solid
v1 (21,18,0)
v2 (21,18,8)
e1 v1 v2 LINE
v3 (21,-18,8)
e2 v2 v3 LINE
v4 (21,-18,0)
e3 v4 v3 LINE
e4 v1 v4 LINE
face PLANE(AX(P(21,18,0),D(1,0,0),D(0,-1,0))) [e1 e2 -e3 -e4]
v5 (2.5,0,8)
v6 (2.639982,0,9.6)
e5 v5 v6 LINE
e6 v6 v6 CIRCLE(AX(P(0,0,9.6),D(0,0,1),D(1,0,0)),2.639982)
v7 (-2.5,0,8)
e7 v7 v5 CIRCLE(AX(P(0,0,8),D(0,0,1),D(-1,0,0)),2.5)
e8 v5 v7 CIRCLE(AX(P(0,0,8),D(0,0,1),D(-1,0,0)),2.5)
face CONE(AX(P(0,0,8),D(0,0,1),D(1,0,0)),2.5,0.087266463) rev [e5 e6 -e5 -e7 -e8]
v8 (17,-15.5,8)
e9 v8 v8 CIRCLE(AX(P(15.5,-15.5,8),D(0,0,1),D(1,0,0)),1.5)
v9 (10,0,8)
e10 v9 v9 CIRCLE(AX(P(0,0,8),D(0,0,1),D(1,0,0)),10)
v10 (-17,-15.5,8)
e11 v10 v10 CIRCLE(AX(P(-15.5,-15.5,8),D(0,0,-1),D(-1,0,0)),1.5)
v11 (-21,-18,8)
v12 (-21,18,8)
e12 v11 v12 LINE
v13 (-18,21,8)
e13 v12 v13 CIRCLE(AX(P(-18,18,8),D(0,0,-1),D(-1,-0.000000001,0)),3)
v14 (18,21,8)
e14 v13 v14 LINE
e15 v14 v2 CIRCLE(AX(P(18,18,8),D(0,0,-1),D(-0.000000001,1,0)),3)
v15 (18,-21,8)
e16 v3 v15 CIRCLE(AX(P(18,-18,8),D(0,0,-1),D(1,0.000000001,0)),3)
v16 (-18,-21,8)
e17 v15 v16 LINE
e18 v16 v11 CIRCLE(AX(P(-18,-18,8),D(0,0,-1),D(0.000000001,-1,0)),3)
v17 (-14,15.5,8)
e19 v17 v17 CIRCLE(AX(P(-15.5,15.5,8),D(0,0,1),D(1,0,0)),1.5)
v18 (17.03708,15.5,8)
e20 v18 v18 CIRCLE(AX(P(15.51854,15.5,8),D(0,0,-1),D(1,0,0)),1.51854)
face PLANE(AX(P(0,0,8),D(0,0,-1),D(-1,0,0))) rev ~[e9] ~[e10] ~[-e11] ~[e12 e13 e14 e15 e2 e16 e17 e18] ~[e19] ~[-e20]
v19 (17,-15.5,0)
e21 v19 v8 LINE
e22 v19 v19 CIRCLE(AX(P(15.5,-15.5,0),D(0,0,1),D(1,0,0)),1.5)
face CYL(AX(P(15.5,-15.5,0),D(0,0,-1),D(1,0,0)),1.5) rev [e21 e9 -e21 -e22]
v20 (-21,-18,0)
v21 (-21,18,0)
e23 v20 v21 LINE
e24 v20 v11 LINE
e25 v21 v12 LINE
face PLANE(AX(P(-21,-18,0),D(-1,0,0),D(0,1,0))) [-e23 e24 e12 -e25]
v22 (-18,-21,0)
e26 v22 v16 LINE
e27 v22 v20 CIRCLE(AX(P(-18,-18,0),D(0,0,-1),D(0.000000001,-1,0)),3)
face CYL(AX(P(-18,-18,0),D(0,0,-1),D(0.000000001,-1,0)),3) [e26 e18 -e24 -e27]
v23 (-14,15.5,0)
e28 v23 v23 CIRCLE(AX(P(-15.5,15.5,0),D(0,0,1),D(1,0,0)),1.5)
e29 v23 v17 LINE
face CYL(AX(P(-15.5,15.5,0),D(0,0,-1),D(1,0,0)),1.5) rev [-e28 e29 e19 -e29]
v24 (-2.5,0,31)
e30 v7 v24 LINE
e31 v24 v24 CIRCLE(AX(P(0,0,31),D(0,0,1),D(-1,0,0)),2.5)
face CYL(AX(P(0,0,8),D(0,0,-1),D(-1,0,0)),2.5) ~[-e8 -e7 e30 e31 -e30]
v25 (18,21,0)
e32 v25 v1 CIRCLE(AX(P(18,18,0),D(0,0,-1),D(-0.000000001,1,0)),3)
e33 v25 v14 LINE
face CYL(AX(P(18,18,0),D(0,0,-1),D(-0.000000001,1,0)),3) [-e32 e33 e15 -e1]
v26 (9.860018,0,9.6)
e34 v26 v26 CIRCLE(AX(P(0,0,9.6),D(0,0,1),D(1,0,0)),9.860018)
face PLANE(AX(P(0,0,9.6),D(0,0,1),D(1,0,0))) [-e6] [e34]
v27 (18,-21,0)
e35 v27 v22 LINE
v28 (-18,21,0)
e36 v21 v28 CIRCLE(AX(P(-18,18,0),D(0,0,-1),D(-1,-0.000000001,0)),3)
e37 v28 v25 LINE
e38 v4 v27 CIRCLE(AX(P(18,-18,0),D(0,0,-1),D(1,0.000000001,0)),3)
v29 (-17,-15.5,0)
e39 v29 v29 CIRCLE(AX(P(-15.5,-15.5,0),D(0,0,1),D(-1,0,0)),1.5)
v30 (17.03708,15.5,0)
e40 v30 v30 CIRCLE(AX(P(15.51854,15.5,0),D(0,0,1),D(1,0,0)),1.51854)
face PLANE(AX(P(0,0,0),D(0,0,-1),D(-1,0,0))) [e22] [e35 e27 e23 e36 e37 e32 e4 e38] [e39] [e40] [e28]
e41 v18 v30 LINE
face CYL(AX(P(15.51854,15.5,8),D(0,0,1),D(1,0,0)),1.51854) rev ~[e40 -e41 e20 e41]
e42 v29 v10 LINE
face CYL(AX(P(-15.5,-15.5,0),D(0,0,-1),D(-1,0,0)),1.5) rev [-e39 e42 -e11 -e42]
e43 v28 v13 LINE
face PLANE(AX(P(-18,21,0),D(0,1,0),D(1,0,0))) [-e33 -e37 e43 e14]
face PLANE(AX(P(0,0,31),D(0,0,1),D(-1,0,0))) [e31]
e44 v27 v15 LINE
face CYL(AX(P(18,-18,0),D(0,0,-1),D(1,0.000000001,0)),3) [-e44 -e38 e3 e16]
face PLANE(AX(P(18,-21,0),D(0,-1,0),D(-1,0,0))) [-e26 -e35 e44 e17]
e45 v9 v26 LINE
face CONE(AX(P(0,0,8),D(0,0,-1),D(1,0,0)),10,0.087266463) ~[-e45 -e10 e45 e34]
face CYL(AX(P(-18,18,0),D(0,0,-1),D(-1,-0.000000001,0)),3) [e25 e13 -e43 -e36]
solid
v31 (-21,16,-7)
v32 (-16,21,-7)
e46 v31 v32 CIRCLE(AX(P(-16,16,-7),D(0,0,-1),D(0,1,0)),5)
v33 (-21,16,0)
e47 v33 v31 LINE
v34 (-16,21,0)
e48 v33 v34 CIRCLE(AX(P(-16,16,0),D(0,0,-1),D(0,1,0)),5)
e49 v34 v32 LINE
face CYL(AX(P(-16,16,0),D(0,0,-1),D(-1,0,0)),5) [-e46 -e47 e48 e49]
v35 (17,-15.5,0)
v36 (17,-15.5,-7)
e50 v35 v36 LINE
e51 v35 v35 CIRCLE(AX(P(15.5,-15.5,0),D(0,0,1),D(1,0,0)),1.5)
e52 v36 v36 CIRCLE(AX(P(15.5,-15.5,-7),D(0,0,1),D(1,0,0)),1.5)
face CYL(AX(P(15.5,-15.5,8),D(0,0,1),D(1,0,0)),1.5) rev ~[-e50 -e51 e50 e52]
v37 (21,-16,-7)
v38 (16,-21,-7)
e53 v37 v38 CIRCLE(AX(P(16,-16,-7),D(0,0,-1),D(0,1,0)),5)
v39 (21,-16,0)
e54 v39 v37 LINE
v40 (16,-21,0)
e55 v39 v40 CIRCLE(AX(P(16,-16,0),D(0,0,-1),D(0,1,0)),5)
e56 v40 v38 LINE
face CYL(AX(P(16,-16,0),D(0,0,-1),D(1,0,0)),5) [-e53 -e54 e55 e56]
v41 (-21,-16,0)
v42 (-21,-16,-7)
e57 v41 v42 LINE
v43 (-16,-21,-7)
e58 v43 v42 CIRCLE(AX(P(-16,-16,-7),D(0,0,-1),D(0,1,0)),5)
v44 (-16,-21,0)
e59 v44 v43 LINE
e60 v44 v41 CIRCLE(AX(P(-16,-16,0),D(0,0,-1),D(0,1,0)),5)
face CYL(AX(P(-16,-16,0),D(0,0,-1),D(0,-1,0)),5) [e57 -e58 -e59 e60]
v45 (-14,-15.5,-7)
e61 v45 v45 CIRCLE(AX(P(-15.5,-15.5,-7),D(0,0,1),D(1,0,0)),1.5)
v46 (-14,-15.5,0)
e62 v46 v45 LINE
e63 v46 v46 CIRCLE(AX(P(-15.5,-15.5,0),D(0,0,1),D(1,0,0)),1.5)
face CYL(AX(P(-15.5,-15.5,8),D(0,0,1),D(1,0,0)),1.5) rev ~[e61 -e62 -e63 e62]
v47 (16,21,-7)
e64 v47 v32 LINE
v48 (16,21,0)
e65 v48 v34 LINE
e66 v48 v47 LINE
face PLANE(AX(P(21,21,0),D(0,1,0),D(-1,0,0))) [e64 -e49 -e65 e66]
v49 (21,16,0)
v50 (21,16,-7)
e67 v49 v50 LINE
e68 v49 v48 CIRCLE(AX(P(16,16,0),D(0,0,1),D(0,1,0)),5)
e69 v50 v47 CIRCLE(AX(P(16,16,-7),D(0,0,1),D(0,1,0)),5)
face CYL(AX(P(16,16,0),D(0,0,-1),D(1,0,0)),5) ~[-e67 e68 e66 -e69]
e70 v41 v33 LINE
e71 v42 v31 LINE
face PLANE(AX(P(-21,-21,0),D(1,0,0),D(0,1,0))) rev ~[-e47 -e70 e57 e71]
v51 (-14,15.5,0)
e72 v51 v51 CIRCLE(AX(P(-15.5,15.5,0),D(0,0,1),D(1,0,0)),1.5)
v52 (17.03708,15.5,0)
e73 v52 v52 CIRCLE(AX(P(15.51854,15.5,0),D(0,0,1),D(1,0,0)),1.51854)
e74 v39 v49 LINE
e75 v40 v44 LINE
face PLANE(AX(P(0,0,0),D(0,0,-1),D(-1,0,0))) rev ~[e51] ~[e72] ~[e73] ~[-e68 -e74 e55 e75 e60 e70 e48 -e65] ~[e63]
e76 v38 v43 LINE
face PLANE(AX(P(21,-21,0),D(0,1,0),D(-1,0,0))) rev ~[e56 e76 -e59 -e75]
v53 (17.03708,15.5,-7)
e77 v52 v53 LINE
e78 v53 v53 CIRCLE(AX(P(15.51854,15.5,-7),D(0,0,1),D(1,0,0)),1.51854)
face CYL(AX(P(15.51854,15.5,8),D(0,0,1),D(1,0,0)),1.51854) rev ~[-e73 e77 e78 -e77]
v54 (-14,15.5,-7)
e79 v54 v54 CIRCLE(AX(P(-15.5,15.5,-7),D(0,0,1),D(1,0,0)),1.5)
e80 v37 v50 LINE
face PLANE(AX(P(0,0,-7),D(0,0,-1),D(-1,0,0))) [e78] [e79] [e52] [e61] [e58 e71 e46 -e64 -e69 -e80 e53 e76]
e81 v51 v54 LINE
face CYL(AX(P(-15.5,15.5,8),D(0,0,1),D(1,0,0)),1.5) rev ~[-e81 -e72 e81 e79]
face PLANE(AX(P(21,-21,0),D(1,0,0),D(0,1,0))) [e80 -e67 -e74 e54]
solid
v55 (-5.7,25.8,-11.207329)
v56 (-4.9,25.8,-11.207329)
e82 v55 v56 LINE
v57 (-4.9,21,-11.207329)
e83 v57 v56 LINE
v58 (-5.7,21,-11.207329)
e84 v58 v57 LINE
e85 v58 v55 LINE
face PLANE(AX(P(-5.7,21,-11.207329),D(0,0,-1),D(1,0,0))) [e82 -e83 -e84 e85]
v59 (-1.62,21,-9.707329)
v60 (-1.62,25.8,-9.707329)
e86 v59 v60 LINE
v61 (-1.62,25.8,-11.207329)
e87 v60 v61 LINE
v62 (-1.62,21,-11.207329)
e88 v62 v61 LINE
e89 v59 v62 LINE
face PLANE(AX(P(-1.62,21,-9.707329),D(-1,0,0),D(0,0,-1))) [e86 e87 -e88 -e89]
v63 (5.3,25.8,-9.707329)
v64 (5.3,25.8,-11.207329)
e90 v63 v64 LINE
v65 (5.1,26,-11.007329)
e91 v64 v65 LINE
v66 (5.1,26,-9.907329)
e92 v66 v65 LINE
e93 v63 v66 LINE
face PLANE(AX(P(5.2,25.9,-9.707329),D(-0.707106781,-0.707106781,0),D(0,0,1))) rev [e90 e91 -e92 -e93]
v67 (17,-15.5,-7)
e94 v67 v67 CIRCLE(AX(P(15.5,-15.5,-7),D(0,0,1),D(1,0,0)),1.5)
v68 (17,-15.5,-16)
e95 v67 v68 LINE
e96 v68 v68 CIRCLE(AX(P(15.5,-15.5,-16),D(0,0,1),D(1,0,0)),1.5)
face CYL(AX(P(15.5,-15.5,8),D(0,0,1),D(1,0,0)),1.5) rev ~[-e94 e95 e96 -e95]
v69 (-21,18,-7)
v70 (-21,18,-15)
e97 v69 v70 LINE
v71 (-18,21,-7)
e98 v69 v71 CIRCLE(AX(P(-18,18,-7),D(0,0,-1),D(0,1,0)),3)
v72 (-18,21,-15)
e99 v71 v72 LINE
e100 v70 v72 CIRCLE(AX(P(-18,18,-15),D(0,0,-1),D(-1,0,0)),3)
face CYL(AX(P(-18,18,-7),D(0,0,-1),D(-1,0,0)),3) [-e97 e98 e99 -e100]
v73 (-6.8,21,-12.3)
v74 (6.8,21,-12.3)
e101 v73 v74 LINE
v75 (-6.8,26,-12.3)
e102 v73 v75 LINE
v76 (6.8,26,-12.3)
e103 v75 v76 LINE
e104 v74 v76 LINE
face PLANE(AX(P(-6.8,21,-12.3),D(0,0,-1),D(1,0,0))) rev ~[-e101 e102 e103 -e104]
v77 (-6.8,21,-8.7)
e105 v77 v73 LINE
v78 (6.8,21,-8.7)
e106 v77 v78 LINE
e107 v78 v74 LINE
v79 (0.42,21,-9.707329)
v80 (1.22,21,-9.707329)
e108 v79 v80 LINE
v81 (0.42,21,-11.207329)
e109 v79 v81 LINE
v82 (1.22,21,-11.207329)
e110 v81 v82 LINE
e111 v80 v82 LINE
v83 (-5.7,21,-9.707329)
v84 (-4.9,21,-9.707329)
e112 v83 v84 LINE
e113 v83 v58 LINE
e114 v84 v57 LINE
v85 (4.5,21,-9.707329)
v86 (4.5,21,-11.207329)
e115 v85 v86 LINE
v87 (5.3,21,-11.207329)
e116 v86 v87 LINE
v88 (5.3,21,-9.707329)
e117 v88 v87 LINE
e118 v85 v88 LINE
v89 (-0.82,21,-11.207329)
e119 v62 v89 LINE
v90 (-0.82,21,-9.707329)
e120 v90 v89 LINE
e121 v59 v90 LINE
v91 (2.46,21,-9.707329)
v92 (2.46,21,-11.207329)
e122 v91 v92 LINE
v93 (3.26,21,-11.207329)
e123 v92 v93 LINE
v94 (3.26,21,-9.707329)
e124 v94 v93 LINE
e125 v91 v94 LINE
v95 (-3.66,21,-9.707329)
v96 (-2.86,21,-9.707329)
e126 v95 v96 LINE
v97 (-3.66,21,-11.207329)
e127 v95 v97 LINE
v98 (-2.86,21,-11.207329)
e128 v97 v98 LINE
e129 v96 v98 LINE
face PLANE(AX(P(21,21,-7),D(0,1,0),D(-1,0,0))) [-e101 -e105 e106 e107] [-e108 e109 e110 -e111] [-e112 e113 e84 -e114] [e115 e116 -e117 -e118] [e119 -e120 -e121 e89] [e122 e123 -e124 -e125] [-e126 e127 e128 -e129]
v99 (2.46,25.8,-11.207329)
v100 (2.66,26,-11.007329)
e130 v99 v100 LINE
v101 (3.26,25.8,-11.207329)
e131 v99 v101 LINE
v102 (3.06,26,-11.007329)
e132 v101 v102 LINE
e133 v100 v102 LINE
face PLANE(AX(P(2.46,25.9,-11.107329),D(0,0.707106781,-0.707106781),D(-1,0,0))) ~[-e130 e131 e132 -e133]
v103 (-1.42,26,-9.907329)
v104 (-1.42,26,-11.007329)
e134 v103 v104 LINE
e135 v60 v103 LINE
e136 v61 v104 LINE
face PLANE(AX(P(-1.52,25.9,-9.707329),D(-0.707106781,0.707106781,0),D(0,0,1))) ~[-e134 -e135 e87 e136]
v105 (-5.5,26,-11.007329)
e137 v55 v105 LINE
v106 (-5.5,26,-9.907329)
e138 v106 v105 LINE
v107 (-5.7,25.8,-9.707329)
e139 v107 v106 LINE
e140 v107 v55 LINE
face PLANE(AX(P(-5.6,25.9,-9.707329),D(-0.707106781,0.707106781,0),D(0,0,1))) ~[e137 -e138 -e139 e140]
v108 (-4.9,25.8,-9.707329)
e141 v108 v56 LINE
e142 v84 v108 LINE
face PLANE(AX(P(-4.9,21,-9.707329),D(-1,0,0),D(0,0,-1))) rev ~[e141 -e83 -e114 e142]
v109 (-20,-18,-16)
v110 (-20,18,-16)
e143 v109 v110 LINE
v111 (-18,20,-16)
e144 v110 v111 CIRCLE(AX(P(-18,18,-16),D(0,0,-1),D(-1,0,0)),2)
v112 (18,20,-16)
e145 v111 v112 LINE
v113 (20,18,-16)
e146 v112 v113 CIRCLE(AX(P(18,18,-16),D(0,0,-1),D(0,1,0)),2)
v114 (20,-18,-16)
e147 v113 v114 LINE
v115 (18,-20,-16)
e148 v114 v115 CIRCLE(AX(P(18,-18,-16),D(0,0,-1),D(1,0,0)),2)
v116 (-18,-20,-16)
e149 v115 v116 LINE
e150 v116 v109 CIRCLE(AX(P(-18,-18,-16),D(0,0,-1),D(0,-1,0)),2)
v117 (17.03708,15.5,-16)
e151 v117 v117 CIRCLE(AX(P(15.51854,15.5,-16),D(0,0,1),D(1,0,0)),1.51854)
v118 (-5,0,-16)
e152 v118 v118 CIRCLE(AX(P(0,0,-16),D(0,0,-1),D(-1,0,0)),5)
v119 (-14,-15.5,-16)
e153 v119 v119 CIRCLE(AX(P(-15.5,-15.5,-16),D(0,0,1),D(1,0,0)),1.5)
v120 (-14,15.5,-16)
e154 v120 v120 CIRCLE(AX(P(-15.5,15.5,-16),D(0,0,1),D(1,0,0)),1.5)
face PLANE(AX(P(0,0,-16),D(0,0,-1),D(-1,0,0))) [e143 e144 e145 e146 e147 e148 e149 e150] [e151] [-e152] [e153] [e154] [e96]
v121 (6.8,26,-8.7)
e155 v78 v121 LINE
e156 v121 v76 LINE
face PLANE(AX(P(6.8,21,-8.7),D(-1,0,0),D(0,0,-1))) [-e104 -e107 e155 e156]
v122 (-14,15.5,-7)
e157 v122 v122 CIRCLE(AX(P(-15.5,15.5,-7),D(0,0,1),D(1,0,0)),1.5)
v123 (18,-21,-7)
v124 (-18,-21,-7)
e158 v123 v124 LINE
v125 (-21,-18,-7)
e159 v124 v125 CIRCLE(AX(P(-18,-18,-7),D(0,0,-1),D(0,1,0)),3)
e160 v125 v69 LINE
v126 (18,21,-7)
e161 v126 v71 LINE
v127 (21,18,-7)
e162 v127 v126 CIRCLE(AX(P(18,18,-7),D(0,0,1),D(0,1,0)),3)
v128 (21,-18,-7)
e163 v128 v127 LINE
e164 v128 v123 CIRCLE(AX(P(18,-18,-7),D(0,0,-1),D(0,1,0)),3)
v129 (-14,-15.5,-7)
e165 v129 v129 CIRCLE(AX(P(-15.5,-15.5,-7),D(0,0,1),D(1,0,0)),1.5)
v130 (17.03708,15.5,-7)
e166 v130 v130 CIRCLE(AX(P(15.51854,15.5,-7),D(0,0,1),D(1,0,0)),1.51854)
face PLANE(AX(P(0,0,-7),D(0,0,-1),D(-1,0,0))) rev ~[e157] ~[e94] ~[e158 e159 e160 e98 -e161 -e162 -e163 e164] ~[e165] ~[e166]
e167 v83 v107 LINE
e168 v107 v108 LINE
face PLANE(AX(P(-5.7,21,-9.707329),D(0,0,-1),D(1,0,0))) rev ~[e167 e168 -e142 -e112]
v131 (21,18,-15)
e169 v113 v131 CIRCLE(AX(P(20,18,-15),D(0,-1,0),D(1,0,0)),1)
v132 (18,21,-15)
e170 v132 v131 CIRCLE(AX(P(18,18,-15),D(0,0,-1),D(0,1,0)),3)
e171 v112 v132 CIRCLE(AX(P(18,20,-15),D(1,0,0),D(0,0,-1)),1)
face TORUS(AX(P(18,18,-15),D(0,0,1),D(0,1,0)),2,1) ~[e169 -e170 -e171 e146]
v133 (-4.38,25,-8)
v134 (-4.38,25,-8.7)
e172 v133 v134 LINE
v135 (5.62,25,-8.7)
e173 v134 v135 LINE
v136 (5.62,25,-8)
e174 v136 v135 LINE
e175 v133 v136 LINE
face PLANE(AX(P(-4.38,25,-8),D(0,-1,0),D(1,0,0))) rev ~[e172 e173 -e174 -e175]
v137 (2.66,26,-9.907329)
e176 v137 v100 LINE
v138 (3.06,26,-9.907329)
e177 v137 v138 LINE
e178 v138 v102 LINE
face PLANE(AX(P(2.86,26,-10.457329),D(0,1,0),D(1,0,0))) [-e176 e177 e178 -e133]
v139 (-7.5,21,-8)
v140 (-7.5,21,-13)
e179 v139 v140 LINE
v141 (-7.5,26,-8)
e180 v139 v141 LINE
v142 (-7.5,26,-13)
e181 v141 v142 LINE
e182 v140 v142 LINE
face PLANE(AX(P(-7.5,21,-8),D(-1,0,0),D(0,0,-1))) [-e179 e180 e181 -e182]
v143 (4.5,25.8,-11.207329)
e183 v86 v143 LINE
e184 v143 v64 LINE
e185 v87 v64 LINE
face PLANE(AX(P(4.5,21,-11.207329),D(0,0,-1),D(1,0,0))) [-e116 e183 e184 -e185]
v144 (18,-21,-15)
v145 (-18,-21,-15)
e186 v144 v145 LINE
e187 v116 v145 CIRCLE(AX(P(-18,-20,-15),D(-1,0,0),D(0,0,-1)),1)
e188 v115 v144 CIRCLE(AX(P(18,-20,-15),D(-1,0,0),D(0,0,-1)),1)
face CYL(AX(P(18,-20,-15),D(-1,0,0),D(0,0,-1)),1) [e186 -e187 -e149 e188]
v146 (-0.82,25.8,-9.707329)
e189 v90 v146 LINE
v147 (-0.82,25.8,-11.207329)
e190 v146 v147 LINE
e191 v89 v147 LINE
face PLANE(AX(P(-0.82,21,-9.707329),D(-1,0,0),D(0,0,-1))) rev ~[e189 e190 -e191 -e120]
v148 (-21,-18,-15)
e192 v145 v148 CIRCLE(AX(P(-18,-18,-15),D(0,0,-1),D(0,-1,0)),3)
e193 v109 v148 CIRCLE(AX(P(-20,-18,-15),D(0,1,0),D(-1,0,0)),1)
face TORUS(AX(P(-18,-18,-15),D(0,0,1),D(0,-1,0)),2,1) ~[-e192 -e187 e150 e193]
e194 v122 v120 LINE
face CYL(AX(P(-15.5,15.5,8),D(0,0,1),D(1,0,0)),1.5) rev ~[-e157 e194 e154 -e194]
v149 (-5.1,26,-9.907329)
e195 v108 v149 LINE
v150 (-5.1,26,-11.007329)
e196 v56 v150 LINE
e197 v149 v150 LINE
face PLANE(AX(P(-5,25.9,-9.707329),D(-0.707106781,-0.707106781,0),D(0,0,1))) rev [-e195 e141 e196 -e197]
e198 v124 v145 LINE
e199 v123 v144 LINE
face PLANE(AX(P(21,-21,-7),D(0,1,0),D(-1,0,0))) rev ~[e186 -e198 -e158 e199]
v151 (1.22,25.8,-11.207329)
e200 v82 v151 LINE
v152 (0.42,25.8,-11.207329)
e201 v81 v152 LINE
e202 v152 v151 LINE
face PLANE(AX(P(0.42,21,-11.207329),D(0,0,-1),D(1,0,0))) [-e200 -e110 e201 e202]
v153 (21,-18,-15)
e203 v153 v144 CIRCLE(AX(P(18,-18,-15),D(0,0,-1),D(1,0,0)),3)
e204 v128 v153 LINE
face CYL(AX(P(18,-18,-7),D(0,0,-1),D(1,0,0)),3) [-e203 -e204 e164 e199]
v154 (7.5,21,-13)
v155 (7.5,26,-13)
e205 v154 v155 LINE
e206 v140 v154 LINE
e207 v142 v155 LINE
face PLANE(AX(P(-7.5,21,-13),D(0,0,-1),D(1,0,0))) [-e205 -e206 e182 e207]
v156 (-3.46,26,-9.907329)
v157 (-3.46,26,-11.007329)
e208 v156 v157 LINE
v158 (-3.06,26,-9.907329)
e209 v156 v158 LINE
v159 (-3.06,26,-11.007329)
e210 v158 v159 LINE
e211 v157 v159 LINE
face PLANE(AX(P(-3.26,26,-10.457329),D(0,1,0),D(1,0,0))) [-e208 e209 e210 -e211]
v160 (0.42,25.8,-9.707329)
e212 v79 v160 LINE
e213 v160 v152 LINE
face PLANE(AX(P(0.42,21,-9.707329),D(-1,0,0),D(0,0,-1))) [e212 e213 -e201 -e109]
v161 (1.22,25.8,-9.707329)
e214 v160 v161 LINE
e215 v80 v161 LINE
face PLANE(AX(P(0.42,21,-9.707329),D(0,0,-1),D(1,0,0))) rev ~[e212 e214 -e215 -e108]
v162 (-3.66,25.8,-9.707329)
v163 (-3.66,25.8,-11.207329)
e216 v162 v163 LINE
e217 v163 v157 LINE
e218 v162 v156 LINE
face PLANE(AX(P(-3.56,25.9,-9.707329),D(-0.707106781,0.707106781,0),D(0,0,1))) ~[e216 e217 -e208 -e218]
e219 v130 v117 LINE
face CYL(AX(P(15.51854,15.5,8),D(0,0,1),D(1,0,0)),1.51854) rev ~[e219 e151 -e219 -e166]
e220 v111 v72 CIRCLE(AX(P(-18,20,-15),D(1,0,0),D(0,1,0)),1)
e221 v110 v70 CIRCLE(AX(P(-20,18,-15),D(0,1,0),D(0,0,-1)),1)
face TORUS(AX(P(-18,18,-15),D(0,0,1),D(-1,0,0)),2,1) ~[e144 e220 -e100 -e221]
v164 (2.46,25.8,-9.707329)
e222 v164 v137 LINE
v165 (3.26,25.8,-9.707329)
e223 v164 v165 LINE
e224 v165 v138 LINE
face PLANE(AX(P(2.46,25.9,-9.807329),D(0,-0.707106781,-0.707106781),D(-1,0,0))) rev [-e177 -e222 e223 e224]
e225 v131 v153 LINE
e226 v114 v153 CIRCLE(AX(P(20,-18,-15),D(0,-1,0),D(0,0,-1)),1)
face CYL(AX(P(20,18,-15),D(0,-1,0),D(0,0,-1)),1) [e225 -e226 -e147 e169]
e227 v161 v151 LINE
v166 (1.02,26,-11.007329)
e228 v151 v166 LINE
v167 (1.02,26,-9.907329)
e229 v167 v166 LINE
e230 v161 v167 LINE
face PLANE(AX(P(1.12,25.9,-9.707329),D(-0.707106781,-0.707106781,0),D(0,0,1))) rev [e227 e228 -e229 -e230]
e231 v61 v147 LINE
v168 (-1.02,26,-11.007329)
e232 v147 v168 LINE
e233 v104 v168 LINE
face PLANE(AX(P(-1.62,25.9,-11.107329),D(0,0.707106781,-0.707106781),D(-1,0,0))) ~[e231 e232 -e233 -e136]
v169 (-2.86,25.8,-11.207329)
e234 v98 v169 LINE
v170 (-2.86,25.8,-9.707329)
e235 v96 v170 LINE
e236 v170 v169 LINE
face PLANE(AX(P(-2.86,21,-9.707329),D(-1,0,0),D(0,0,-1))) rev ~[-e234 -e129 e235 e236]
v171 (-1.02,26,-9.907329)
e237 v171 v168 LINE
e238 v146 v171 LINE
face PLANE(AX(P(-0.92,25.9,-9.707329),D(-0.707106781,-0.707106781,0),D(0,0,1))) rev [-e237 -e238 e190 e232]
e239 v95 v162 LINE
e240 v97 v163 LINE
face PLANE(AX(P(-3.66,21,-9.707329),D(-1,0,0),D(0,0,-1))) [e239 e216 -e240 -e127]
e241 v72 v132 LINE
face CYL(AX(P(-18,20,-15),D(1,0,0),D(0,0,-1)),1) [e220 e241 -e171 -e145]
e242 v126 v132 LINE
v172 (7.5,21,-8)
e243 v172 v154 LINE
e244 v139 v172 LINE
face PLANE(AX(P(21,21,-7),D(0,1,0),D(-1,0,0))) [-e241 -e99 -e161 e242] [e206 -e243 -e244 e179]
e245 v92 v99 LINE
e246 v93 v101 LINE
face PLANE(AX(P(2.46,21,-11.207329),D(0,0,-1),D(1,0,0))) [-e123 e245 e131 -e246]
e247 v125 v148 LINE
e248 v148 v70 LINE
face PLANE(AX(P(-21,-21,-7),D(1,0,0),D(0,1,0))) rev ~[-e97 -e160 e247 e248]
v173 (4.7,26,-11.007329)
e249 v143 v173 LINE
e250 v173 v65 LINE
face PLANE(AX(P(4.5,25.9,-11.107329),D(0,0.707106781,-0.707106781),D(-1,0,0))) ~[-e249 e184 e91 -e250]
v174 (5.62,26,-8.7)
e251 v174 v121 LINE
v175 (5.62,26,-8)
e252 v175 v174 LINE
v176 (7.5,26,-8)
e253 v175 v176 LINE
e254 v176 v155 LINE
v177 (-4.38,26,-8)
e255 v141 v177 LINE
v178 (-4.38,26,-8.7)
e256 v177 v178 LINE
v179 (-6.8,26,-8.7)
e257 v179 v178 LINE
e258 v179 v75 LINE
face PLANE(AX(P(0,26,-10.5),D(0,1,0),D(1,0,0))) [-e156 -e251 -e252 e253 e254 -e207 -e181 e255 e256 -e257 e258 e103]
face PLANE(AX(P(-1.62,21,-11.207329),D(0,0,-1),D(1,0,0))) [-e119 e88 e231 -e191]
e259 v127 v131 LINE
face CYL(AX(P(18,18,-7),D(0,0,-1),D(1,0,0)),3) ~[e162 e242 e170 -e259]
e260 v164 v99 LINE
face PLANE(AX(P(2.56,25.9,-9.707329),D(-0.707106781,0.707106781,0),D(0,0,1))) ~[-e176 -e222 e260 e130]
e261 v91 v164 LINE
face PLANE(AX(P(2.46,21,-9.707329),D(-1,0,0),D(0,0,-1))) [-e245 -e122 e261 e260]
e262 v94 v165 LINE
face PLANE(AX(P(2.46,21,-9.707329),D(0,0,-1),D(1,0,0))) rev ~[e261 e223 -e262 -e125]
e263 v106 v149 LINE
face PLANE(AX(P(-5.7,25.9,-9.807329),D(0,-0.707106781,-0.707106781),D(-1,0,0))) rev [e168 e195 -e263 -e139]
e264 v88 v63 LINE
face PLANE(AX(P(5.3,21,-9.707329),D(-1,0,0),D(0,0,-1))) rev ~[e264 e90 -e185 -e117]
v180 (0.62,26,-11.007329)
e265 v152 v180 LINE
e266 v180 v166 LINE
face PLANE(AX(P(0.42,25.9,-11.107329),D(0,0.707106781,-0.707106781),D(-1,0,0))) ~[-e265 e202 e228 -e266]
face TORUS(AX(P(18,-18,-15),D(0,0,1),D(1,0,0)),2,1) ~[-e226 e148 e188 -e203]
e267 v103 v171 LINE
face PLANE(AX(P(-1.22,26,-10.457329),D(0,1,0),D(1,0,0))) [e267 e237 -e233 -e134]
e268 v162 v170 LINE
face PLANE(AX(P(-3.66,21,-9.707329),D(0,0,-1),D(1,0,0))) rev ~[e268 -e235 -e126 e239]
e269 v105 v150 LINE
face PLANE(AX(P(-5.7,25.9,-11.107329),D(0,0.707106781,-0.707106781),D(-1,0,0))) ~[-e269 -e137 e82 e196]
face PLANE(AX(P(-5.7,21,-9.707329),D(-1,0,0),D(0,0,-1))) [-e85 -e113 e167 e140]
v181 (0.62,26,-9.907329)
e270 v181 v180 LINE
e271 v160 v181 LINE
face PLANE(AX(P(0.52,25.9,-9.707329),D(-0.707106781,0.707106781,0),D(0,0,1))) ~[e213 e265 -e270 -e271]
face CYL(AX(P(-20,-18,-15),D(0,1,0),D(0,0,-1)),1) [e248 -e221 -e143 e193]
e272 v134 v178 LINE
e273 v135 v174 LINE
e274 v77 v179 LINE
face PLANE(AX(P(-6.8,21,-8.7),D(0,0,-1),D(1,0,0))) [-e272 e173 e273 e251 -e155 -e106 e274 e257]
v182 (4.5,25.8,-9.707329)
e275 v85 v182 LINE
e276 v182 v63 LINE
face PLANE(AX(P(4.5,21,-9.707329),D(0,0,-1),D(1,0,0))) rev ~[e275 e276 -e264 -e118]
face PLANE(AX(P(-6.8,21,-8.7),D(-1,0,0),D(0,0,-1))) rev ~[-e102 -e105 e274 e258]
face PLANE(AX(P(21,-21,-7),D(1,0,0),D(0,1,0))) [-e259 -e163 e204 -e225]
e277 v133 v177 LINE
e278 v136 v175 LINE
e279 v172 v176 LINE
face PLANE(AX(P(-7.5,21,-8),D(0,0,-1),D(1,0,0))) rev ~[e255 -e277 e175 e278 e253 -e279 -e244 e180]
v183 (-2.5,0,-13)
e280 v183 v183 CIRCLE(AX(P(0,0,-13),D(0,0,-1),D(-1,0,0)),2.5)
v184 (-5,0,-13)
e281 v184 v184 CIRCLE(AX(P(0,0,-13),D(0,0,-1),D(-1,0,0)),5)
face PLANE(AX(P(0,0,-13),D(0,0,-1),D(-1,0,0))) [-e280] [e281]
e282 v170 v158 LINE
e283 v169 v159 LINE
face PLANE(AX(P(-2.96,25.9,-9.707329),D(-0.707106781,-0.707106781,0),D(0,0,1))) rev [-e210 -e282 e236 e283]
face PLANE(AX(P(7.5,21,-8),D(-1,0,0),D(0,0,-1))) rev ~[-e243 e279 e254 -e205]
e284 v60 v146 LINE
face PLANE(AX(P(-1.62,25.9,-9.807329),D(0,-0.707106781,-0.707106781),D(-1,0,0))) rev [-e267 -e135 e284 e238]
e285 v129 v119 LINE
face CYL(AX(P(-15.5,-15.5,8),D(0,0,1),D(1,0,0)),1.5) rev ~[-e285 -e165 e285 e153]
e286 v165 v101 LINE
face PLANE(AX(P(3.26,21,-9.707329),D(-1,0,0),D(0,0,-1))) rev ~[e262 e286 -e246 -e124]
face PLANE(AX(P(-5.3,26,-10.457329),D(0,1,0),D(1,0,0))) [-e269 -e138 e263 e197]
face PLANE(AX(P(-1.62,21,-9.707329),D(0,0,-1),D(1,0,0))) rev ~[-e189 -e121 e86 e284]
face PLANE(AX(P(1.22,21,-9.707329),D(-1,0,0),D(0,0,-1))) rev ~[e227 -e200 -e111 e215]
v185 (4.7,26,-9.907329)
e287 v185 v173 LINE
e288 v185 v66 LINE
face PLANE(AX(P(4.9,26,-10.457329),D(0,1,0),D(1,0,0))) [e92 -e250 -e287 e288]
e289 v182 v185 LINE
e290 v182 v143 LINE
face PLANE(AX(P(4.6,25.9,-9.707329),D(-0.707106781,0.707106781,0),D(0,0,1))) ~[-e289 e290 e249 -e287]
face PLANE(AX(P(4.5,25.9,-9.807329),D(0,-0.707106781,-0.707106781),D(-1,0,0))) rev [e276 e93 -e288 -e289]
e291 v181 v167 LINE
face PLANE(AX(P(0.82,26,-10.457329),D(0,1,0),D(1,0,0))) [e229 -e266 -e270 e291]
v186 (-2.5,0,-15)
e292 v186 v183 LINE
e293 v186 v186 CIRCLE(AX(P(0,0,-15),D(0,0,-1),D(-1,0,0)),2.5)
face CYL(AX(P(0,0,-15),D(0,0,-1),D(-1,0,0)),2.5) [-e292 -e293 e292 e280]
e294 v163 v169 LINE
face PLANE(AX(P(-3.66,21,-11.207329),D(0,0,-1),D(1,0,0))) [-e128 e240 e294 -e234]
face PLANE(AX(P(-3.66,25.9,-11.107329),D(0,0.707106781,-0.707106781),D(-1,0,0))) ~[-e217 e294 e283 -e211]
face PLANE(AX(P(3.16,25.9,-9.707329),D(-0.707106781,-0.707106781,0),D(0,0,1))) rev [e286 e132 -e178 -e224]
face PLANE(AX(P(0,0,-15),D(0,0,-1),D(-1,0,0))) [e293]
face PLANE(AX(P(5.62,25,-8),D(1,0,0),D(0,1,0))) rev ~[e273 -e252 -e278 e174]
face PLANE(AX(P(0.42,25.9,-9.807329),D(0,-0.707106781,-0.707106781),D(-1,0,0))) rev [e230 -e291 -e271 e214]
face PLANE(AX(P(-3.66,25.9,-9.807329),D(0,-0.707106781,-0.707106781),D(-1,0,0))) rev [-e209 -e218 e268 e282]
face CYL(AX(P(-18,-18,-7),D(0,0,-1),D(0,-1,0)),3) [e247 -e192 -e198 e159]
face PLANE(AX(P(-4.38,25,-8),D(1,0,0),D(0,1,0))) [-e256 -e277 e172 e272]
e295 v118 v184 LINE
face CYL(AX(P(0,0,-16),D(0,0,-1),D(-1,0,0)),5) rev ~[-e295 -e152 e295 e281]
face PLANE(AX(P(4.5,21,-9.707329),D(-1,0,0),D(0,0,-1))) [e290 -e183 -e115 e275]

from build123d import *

# Parameters (mm, degrees)
SKETCH_1_R          = 1.5
EXTRUDE_1_DEPTH     = 8
SKETCH_4_R          = 2.5
EXTRUDE_2_DEPTH     = 23
SKETCH_9_W          = 42
SKETCH_9_H          = 42
EXTRUDE_7_DEPTH     = 7
SKETCH_10_W         = 42
SKETCH_10_H         = 42
EXTRUDE_8_DEPTH     = 9
FILLET_1_R          = 3
FILLET_2_R          = 5
SKETCH_12_R         = 1.5
SKETCH_12_R_2       = 1.518540069
CUT_EXTRUDE_1_DEPTH = 39.183766184
SKETCH_14_W         = 15
SKETCH_14_H         = 5
SKETCH_14_W_2       = 13.6
SKETCH_14_H_2       = 3.6
SKETCH_14_W_3       = 0.8
SKETCH_14_H_3       = 1.5
EXTRUDE_10_DEPTH    = 5
CHAMFER_1_SIZE      = 0.2
SKETCH_15_W         = 10
SKETCH_15_H         = 1
CUT_EXTRUDE_2_DEPTH = 0.7
FILLET_3_R          = 1
SKETCH_16_R         = 10
SKETCH_16_R_2       = 2.5
EXTRUDE_11_DEPTH    = 1.6
EXTRUDE_11_DRAFT    = 5
SKETCH_18_R         = 5
CUT_EXTRUDE_3_DEPTH = 3
EXTRUDE_START       = 2
SKETCH_19_R         = 2.5
EXTRUDE_13_DEPTH    = 2


with BuildPart() as part:
    # 草图1 → 凸台-拉伸1 (new body)
    with BuildSketch(Plane.XY):
        with BuildLine():
            Line((-18, 21), (18, 21))
            ThreePointArc((18, 21), (20.121320344, 20.121320344), (21, 18))
            Line((21, 18), (21, -18))
            ThreePointArc((21, -18), (20.121320344, -20.121320344), (18, -21))
            Line((18, -21), (-18, -21))
            ThreePointArc((-18, -21), (-20.121320344, -20.121320344), (-21, -18))
            Line((-21, -18), (-21, 18))
            ThreePointArc((-21, 18), (-20.121320344, 20.121320344), (-18, 21))
        make_face()
        with Locations((-15.5, 15.5)):
            Circle(SKETCH_1_R, mode=Mode.SUBTRACT)
        with Locations(Location((15.5, 15.5, 0), (0, 0, 180))):
            Circle(SKETCH_1_R, mode=Mode.SUBTRACT)
        with Locations((15.5, -15.5)):
            Circle(SKETCH_1_R, mode=Mode.SUBTRACT)
        with Locations(Location((-15.5, -15.5, 0), (0, 0, 180))):
            Circle(SKETCH_1_R, mode=Mode.SUBTRACT)
    extrude(amount=EXTRUDE_1_DEPTH)

    # 草图4 → 凸台-拉伸2 (add)
    with BuildSketch(Plane.XY.offset(8)):
        with Locations(Location((0, 0, 0), (0, 0, 180))):
            Circle(SKETCH_4_R)
    extrude(amount=EXTRUDE_2_DEPTH)


with BuildPart() as body_2:
    # 草图9 → 凸台-拉伸7 (new body)
    with BuildSketch(Plane(origin=(0, 0, 0), x_dir=(-1, 0, 0), z_dir=(0, 0, -1))):
        Rectangle(SKETCH_9_W, SKETCH_9_H)
    extrude(amount=EXTRUDE_7_DEPTH)

    # 圆角2
    fillet_2_edges = [body_2.edges().sort_by_distance(p)[0] for p in [
        (-21, -21, -3.5),
        (21, -21, -3.5),
        (21, 21, -3.5),
        (-21, 21, -3.5),
    ]]
    fillet(fillet_2_edges, radius=FILLET_2_R)


with BuildPart() as body_3:
    # 草图10 → 凸台-拉伸8 (new body)
    with BuildSketch(Plane(origin=(0, 0, -7), x_dir=(-1, 0, 0), z_dir=(0, 0, -1))):
        Rectangle(SKETCH_10_W, SKETCH_10_H)
    extrude(amount=EXTRUDE_8_DEPTH)

    # 圆角1
    fillet_1_edges = [body_3.edges().sort_by_distance(p)[0] for p in [
        (21, 21, -11.5),
        (-21, 21, -11.5),
        (-21, -21, -11.5),
        (21, -21, -11.5),
    ]]
    fillet(fillet_1_edges, radius=FILLET_1_R)


with BuildPart() as cut_extrude_1_tool:
    # 草图12 → 切除-拉伸1 (new, through all)
    with BuildSketch(Plane.XY.offset(8)):
        with Locations((-15.5, 15.5)):
            Circle(SKETCH_12_R)
        with Locations((15.518540069, 15.5)):
            Circle(SKETCH_12_R_2)
        with Locations((-15.5, -15.5)):
            Circle(SKETCH_12_R)
        with Locations((15.5, -15.5)):
            Circle(SKETCH_12_R)
    extrude(amount=-CUT_EXTRUDE_1_DEPTH)


with BuildPart() as part_1:
    add(part.part)

    # 切除-拉伸1: cut by cut_extrude_1_tool
    add(cut_extrude_1_tool.part, mode=Mode.SUBTRACT)


with BuildPart() as body_2_1:
    add(body_2.part)

    # 切除-拉伸1: cut by cut_extrude_1_tool
    add(cut_extrude_1_tool.part, mode=Mode.SUBTRACT)


with BuildPart() as body_3_1:
    add(body_3.part)

    # 切除-拉伸1: cut by cut_extrude_1_tool
    add(cut_extrude_1_tool.part, mode=Mode.SUBTRACT)

    # 草图14 → 凸台-拉伸10 (add)
    # profile 1 of 7: a face of its own
    with BuildSketch(Plane(origin=(0, 21, 0), x_dir=(1, 0, 0), z_dir=(0, 1, 0))):
        with Locations((0, 10.5)):
            Rectangle(SKETCH_14_W, SKETCH_14_H)
        with Locations((0, 10.5)):
            Rectangle(SKETCH_14_W_2, SKETCH_14_H_2, mode=Mode.SUBTRACT)
    # profile 2 of 7: a face of its own
    with BuildSketch(Plane(origin=(0, 21, 0), x_dir=(1, 0, 0), z_dir=(0, 1, 0))):
        with Locations((-5.3, 10.457329348)):
            Rectangle(SKETCH_14_W_3, SKETCH_14_H_3)
    # profile 3 of 7: a face of its own
    with BuildSketch(Plane(origin=(0, 21, 0), x_dir=(1, 0, 0), z_dir=(0, 1, 0))):
        with Locations((-1.22, 10.457329348)):
            Rectangle(SKETCH_14_W_3, SKETCH_14_H_3)
    # profile 4 of 7: a face of its own
    with BuildSketch(Plane(origin=(0, 21, 0), x_dir=(1, 0, 0), z_dir=(0, 1, 0))):
        with Locations((4.9, 10.457329348)):
            Rectangle(SKETCH_14_W_3, SKETCH_14_H_3)
    # profile 5 of 7: a face of its own
    with BuildSketch(Plane(origin=(0, 21, 0), x_dir=(1, 0, 0), z_dir=(0, 1, 0))):
        with Locations((2.86, 10.457329348)):
            Rectangle(SKETCH_14_W_3, SKETCH_14_H_3)
    # profile 6 of 7: a face of its own
    with BuildSketch(Plane(origin=(0, 21, 0), x_dir=(1, 0, 0), z_dir=(0, 1, 0))):
        with Locations((-3.26, 10.457329348)):
            Rectangle(SKETCH_14_W_3, SKETCH_14_H_3)
    # profile 7 of 7: a face of its own
    with BuildSketch(Plane(origin=(0, 21, 0), x_dir=(1, 0, 0), z_dir=(0, 1, 0))):
        with Locations((0.82, 10.457329348)):
            Rectangle(SKETCH_14_W_3, SKETCH_14_H_3)
    extrude(amount=EXTRUDE_10_DEPTH)

    # 倒角1
    chamfer_1_edges = [body_3_1.edges().sort_by_distance(p)[0] for p in [
        (5.3, 26, -10.457329348),
        (4.9, 26, -11.207329348),
        (4.5, 26, -10.457329348),
        (4.9, 26, -9.707329348),
        (3.26, 26, -10.457329348),
        (2.86, 26, -11.207329348),
        (2.46, 26, -10.457329348),
        (2.86, 26, -9.707329348),
        (-2.86, 26, -10.457329348),
        (-3.26, 26, -11.207329348),
        (-3.66, 26, -10.457329348),
        (-3.26, 26, -9.707329348),
        (1.22, 26, -10.457329348),
        (0.82, 26, -11.207329348),
        (0.42, 26, -10.457329348),
        (0.82, 26, -9.707329348),
        (-4.9, 26, -10.457329348),
        (-5.3, 26, -11.207329348),
        (-5.7, 26, -10.457329348),
        (-5.3, 26, -9.707329348),
        (-0.82, 26, -10.457329348),
        (-1.22, 26, -11.207329348),
        (-1.62, 26, -10.457329348),
        (-1.22, 26, -9.707329348),
    ]]
    chamfer(chamfer_1_edges, length=CHAMFER_1_SIZE)

    # 草图15 → 切除-拉伸2 (cut)
    with BuildSketch(Plane.XY.offset(-8)):
        with Locations((0.62, 25.5)):
            Rectangle(SKETCH_15_W, SKETCH_15_H)
    extrude(amount=-CUT_EXTRUDE_2_DEPTH, mode=Mode.SUBTRACT)

    # 圆角3
    fillet_3_edges = [body_3_1.edges().sort_by_distance(p)[0] for p in [
        (0, -21, -16),
        (21, 0, -16),
        (-21, 0, -16),
        (0, 21, -16),
        (20.121320344, 20.121320344, -16),
        (-20.121320344, 20.121320344, -16),
        (-20.121320344, -20.121320344, -16),
        (20.121320344, -20.121320344, -16),
    ]]
    fillet(fillet_3_edges, radius=FILLET_3_R)

    # 草图18 → 切除-拉伸3 (cut)
    with BuildSketch(Plane(origin=(0, 0, -16), x_dir=(-1, 0, 0), z_dir=(0, 0, -1))):
        Circle(SKETCH_18_R)
    extrude(amount=-CUT_EXTRUDE_3_DEPTH, mode=Mode.SUBTRACT)

    # 草图19 → 凸台-拉伸13 (add)
    with BuildSketch(Plane(origin=(0, 0, -13), x_dir=(-1, 0, 0), z_dir=(0, 0, -1)).offset(EXTRUDE_START)):
        Circle(SKETCH_19_R)
    extrude(amount=-EXTRUDE_13_DEPTH)


with BuildPart() as extrude_11_tool:
    # 草图16 → 凸台-拉伸11 (with draft: the straight prism first)
    with BuildSketch(Plane.XY.offset(8)):
        Circle(SKETCH_16_R)
        Circle(SKETCH_16_R_2, mode=Mode.SUBTRACT)
    extrude(amount=EXTRUDE_11_DEPTH)
    # 凸台-拉伸11: the draft: its side faces are tilted about the plane it starts from
    extrude_11_sides = [extrude_11_tool.faces().sort_by_distance(p)[0] for p in [
        (-10, 0, 8.8),
        (-2.5, 0, 8.8),
    ]]
    draft(extrude_11_sides, Plane.XY.offset(8), EXTRUDE_11_DRAFT)


with BuildPart() as part_2:
    add(part_1.part)

    # 凸台-拉伸11: add extrude_11_tool
    add(extrude_11_tool.part)


solid = Compound([body_2_1.part, body_3_1.part, part_2.part])
